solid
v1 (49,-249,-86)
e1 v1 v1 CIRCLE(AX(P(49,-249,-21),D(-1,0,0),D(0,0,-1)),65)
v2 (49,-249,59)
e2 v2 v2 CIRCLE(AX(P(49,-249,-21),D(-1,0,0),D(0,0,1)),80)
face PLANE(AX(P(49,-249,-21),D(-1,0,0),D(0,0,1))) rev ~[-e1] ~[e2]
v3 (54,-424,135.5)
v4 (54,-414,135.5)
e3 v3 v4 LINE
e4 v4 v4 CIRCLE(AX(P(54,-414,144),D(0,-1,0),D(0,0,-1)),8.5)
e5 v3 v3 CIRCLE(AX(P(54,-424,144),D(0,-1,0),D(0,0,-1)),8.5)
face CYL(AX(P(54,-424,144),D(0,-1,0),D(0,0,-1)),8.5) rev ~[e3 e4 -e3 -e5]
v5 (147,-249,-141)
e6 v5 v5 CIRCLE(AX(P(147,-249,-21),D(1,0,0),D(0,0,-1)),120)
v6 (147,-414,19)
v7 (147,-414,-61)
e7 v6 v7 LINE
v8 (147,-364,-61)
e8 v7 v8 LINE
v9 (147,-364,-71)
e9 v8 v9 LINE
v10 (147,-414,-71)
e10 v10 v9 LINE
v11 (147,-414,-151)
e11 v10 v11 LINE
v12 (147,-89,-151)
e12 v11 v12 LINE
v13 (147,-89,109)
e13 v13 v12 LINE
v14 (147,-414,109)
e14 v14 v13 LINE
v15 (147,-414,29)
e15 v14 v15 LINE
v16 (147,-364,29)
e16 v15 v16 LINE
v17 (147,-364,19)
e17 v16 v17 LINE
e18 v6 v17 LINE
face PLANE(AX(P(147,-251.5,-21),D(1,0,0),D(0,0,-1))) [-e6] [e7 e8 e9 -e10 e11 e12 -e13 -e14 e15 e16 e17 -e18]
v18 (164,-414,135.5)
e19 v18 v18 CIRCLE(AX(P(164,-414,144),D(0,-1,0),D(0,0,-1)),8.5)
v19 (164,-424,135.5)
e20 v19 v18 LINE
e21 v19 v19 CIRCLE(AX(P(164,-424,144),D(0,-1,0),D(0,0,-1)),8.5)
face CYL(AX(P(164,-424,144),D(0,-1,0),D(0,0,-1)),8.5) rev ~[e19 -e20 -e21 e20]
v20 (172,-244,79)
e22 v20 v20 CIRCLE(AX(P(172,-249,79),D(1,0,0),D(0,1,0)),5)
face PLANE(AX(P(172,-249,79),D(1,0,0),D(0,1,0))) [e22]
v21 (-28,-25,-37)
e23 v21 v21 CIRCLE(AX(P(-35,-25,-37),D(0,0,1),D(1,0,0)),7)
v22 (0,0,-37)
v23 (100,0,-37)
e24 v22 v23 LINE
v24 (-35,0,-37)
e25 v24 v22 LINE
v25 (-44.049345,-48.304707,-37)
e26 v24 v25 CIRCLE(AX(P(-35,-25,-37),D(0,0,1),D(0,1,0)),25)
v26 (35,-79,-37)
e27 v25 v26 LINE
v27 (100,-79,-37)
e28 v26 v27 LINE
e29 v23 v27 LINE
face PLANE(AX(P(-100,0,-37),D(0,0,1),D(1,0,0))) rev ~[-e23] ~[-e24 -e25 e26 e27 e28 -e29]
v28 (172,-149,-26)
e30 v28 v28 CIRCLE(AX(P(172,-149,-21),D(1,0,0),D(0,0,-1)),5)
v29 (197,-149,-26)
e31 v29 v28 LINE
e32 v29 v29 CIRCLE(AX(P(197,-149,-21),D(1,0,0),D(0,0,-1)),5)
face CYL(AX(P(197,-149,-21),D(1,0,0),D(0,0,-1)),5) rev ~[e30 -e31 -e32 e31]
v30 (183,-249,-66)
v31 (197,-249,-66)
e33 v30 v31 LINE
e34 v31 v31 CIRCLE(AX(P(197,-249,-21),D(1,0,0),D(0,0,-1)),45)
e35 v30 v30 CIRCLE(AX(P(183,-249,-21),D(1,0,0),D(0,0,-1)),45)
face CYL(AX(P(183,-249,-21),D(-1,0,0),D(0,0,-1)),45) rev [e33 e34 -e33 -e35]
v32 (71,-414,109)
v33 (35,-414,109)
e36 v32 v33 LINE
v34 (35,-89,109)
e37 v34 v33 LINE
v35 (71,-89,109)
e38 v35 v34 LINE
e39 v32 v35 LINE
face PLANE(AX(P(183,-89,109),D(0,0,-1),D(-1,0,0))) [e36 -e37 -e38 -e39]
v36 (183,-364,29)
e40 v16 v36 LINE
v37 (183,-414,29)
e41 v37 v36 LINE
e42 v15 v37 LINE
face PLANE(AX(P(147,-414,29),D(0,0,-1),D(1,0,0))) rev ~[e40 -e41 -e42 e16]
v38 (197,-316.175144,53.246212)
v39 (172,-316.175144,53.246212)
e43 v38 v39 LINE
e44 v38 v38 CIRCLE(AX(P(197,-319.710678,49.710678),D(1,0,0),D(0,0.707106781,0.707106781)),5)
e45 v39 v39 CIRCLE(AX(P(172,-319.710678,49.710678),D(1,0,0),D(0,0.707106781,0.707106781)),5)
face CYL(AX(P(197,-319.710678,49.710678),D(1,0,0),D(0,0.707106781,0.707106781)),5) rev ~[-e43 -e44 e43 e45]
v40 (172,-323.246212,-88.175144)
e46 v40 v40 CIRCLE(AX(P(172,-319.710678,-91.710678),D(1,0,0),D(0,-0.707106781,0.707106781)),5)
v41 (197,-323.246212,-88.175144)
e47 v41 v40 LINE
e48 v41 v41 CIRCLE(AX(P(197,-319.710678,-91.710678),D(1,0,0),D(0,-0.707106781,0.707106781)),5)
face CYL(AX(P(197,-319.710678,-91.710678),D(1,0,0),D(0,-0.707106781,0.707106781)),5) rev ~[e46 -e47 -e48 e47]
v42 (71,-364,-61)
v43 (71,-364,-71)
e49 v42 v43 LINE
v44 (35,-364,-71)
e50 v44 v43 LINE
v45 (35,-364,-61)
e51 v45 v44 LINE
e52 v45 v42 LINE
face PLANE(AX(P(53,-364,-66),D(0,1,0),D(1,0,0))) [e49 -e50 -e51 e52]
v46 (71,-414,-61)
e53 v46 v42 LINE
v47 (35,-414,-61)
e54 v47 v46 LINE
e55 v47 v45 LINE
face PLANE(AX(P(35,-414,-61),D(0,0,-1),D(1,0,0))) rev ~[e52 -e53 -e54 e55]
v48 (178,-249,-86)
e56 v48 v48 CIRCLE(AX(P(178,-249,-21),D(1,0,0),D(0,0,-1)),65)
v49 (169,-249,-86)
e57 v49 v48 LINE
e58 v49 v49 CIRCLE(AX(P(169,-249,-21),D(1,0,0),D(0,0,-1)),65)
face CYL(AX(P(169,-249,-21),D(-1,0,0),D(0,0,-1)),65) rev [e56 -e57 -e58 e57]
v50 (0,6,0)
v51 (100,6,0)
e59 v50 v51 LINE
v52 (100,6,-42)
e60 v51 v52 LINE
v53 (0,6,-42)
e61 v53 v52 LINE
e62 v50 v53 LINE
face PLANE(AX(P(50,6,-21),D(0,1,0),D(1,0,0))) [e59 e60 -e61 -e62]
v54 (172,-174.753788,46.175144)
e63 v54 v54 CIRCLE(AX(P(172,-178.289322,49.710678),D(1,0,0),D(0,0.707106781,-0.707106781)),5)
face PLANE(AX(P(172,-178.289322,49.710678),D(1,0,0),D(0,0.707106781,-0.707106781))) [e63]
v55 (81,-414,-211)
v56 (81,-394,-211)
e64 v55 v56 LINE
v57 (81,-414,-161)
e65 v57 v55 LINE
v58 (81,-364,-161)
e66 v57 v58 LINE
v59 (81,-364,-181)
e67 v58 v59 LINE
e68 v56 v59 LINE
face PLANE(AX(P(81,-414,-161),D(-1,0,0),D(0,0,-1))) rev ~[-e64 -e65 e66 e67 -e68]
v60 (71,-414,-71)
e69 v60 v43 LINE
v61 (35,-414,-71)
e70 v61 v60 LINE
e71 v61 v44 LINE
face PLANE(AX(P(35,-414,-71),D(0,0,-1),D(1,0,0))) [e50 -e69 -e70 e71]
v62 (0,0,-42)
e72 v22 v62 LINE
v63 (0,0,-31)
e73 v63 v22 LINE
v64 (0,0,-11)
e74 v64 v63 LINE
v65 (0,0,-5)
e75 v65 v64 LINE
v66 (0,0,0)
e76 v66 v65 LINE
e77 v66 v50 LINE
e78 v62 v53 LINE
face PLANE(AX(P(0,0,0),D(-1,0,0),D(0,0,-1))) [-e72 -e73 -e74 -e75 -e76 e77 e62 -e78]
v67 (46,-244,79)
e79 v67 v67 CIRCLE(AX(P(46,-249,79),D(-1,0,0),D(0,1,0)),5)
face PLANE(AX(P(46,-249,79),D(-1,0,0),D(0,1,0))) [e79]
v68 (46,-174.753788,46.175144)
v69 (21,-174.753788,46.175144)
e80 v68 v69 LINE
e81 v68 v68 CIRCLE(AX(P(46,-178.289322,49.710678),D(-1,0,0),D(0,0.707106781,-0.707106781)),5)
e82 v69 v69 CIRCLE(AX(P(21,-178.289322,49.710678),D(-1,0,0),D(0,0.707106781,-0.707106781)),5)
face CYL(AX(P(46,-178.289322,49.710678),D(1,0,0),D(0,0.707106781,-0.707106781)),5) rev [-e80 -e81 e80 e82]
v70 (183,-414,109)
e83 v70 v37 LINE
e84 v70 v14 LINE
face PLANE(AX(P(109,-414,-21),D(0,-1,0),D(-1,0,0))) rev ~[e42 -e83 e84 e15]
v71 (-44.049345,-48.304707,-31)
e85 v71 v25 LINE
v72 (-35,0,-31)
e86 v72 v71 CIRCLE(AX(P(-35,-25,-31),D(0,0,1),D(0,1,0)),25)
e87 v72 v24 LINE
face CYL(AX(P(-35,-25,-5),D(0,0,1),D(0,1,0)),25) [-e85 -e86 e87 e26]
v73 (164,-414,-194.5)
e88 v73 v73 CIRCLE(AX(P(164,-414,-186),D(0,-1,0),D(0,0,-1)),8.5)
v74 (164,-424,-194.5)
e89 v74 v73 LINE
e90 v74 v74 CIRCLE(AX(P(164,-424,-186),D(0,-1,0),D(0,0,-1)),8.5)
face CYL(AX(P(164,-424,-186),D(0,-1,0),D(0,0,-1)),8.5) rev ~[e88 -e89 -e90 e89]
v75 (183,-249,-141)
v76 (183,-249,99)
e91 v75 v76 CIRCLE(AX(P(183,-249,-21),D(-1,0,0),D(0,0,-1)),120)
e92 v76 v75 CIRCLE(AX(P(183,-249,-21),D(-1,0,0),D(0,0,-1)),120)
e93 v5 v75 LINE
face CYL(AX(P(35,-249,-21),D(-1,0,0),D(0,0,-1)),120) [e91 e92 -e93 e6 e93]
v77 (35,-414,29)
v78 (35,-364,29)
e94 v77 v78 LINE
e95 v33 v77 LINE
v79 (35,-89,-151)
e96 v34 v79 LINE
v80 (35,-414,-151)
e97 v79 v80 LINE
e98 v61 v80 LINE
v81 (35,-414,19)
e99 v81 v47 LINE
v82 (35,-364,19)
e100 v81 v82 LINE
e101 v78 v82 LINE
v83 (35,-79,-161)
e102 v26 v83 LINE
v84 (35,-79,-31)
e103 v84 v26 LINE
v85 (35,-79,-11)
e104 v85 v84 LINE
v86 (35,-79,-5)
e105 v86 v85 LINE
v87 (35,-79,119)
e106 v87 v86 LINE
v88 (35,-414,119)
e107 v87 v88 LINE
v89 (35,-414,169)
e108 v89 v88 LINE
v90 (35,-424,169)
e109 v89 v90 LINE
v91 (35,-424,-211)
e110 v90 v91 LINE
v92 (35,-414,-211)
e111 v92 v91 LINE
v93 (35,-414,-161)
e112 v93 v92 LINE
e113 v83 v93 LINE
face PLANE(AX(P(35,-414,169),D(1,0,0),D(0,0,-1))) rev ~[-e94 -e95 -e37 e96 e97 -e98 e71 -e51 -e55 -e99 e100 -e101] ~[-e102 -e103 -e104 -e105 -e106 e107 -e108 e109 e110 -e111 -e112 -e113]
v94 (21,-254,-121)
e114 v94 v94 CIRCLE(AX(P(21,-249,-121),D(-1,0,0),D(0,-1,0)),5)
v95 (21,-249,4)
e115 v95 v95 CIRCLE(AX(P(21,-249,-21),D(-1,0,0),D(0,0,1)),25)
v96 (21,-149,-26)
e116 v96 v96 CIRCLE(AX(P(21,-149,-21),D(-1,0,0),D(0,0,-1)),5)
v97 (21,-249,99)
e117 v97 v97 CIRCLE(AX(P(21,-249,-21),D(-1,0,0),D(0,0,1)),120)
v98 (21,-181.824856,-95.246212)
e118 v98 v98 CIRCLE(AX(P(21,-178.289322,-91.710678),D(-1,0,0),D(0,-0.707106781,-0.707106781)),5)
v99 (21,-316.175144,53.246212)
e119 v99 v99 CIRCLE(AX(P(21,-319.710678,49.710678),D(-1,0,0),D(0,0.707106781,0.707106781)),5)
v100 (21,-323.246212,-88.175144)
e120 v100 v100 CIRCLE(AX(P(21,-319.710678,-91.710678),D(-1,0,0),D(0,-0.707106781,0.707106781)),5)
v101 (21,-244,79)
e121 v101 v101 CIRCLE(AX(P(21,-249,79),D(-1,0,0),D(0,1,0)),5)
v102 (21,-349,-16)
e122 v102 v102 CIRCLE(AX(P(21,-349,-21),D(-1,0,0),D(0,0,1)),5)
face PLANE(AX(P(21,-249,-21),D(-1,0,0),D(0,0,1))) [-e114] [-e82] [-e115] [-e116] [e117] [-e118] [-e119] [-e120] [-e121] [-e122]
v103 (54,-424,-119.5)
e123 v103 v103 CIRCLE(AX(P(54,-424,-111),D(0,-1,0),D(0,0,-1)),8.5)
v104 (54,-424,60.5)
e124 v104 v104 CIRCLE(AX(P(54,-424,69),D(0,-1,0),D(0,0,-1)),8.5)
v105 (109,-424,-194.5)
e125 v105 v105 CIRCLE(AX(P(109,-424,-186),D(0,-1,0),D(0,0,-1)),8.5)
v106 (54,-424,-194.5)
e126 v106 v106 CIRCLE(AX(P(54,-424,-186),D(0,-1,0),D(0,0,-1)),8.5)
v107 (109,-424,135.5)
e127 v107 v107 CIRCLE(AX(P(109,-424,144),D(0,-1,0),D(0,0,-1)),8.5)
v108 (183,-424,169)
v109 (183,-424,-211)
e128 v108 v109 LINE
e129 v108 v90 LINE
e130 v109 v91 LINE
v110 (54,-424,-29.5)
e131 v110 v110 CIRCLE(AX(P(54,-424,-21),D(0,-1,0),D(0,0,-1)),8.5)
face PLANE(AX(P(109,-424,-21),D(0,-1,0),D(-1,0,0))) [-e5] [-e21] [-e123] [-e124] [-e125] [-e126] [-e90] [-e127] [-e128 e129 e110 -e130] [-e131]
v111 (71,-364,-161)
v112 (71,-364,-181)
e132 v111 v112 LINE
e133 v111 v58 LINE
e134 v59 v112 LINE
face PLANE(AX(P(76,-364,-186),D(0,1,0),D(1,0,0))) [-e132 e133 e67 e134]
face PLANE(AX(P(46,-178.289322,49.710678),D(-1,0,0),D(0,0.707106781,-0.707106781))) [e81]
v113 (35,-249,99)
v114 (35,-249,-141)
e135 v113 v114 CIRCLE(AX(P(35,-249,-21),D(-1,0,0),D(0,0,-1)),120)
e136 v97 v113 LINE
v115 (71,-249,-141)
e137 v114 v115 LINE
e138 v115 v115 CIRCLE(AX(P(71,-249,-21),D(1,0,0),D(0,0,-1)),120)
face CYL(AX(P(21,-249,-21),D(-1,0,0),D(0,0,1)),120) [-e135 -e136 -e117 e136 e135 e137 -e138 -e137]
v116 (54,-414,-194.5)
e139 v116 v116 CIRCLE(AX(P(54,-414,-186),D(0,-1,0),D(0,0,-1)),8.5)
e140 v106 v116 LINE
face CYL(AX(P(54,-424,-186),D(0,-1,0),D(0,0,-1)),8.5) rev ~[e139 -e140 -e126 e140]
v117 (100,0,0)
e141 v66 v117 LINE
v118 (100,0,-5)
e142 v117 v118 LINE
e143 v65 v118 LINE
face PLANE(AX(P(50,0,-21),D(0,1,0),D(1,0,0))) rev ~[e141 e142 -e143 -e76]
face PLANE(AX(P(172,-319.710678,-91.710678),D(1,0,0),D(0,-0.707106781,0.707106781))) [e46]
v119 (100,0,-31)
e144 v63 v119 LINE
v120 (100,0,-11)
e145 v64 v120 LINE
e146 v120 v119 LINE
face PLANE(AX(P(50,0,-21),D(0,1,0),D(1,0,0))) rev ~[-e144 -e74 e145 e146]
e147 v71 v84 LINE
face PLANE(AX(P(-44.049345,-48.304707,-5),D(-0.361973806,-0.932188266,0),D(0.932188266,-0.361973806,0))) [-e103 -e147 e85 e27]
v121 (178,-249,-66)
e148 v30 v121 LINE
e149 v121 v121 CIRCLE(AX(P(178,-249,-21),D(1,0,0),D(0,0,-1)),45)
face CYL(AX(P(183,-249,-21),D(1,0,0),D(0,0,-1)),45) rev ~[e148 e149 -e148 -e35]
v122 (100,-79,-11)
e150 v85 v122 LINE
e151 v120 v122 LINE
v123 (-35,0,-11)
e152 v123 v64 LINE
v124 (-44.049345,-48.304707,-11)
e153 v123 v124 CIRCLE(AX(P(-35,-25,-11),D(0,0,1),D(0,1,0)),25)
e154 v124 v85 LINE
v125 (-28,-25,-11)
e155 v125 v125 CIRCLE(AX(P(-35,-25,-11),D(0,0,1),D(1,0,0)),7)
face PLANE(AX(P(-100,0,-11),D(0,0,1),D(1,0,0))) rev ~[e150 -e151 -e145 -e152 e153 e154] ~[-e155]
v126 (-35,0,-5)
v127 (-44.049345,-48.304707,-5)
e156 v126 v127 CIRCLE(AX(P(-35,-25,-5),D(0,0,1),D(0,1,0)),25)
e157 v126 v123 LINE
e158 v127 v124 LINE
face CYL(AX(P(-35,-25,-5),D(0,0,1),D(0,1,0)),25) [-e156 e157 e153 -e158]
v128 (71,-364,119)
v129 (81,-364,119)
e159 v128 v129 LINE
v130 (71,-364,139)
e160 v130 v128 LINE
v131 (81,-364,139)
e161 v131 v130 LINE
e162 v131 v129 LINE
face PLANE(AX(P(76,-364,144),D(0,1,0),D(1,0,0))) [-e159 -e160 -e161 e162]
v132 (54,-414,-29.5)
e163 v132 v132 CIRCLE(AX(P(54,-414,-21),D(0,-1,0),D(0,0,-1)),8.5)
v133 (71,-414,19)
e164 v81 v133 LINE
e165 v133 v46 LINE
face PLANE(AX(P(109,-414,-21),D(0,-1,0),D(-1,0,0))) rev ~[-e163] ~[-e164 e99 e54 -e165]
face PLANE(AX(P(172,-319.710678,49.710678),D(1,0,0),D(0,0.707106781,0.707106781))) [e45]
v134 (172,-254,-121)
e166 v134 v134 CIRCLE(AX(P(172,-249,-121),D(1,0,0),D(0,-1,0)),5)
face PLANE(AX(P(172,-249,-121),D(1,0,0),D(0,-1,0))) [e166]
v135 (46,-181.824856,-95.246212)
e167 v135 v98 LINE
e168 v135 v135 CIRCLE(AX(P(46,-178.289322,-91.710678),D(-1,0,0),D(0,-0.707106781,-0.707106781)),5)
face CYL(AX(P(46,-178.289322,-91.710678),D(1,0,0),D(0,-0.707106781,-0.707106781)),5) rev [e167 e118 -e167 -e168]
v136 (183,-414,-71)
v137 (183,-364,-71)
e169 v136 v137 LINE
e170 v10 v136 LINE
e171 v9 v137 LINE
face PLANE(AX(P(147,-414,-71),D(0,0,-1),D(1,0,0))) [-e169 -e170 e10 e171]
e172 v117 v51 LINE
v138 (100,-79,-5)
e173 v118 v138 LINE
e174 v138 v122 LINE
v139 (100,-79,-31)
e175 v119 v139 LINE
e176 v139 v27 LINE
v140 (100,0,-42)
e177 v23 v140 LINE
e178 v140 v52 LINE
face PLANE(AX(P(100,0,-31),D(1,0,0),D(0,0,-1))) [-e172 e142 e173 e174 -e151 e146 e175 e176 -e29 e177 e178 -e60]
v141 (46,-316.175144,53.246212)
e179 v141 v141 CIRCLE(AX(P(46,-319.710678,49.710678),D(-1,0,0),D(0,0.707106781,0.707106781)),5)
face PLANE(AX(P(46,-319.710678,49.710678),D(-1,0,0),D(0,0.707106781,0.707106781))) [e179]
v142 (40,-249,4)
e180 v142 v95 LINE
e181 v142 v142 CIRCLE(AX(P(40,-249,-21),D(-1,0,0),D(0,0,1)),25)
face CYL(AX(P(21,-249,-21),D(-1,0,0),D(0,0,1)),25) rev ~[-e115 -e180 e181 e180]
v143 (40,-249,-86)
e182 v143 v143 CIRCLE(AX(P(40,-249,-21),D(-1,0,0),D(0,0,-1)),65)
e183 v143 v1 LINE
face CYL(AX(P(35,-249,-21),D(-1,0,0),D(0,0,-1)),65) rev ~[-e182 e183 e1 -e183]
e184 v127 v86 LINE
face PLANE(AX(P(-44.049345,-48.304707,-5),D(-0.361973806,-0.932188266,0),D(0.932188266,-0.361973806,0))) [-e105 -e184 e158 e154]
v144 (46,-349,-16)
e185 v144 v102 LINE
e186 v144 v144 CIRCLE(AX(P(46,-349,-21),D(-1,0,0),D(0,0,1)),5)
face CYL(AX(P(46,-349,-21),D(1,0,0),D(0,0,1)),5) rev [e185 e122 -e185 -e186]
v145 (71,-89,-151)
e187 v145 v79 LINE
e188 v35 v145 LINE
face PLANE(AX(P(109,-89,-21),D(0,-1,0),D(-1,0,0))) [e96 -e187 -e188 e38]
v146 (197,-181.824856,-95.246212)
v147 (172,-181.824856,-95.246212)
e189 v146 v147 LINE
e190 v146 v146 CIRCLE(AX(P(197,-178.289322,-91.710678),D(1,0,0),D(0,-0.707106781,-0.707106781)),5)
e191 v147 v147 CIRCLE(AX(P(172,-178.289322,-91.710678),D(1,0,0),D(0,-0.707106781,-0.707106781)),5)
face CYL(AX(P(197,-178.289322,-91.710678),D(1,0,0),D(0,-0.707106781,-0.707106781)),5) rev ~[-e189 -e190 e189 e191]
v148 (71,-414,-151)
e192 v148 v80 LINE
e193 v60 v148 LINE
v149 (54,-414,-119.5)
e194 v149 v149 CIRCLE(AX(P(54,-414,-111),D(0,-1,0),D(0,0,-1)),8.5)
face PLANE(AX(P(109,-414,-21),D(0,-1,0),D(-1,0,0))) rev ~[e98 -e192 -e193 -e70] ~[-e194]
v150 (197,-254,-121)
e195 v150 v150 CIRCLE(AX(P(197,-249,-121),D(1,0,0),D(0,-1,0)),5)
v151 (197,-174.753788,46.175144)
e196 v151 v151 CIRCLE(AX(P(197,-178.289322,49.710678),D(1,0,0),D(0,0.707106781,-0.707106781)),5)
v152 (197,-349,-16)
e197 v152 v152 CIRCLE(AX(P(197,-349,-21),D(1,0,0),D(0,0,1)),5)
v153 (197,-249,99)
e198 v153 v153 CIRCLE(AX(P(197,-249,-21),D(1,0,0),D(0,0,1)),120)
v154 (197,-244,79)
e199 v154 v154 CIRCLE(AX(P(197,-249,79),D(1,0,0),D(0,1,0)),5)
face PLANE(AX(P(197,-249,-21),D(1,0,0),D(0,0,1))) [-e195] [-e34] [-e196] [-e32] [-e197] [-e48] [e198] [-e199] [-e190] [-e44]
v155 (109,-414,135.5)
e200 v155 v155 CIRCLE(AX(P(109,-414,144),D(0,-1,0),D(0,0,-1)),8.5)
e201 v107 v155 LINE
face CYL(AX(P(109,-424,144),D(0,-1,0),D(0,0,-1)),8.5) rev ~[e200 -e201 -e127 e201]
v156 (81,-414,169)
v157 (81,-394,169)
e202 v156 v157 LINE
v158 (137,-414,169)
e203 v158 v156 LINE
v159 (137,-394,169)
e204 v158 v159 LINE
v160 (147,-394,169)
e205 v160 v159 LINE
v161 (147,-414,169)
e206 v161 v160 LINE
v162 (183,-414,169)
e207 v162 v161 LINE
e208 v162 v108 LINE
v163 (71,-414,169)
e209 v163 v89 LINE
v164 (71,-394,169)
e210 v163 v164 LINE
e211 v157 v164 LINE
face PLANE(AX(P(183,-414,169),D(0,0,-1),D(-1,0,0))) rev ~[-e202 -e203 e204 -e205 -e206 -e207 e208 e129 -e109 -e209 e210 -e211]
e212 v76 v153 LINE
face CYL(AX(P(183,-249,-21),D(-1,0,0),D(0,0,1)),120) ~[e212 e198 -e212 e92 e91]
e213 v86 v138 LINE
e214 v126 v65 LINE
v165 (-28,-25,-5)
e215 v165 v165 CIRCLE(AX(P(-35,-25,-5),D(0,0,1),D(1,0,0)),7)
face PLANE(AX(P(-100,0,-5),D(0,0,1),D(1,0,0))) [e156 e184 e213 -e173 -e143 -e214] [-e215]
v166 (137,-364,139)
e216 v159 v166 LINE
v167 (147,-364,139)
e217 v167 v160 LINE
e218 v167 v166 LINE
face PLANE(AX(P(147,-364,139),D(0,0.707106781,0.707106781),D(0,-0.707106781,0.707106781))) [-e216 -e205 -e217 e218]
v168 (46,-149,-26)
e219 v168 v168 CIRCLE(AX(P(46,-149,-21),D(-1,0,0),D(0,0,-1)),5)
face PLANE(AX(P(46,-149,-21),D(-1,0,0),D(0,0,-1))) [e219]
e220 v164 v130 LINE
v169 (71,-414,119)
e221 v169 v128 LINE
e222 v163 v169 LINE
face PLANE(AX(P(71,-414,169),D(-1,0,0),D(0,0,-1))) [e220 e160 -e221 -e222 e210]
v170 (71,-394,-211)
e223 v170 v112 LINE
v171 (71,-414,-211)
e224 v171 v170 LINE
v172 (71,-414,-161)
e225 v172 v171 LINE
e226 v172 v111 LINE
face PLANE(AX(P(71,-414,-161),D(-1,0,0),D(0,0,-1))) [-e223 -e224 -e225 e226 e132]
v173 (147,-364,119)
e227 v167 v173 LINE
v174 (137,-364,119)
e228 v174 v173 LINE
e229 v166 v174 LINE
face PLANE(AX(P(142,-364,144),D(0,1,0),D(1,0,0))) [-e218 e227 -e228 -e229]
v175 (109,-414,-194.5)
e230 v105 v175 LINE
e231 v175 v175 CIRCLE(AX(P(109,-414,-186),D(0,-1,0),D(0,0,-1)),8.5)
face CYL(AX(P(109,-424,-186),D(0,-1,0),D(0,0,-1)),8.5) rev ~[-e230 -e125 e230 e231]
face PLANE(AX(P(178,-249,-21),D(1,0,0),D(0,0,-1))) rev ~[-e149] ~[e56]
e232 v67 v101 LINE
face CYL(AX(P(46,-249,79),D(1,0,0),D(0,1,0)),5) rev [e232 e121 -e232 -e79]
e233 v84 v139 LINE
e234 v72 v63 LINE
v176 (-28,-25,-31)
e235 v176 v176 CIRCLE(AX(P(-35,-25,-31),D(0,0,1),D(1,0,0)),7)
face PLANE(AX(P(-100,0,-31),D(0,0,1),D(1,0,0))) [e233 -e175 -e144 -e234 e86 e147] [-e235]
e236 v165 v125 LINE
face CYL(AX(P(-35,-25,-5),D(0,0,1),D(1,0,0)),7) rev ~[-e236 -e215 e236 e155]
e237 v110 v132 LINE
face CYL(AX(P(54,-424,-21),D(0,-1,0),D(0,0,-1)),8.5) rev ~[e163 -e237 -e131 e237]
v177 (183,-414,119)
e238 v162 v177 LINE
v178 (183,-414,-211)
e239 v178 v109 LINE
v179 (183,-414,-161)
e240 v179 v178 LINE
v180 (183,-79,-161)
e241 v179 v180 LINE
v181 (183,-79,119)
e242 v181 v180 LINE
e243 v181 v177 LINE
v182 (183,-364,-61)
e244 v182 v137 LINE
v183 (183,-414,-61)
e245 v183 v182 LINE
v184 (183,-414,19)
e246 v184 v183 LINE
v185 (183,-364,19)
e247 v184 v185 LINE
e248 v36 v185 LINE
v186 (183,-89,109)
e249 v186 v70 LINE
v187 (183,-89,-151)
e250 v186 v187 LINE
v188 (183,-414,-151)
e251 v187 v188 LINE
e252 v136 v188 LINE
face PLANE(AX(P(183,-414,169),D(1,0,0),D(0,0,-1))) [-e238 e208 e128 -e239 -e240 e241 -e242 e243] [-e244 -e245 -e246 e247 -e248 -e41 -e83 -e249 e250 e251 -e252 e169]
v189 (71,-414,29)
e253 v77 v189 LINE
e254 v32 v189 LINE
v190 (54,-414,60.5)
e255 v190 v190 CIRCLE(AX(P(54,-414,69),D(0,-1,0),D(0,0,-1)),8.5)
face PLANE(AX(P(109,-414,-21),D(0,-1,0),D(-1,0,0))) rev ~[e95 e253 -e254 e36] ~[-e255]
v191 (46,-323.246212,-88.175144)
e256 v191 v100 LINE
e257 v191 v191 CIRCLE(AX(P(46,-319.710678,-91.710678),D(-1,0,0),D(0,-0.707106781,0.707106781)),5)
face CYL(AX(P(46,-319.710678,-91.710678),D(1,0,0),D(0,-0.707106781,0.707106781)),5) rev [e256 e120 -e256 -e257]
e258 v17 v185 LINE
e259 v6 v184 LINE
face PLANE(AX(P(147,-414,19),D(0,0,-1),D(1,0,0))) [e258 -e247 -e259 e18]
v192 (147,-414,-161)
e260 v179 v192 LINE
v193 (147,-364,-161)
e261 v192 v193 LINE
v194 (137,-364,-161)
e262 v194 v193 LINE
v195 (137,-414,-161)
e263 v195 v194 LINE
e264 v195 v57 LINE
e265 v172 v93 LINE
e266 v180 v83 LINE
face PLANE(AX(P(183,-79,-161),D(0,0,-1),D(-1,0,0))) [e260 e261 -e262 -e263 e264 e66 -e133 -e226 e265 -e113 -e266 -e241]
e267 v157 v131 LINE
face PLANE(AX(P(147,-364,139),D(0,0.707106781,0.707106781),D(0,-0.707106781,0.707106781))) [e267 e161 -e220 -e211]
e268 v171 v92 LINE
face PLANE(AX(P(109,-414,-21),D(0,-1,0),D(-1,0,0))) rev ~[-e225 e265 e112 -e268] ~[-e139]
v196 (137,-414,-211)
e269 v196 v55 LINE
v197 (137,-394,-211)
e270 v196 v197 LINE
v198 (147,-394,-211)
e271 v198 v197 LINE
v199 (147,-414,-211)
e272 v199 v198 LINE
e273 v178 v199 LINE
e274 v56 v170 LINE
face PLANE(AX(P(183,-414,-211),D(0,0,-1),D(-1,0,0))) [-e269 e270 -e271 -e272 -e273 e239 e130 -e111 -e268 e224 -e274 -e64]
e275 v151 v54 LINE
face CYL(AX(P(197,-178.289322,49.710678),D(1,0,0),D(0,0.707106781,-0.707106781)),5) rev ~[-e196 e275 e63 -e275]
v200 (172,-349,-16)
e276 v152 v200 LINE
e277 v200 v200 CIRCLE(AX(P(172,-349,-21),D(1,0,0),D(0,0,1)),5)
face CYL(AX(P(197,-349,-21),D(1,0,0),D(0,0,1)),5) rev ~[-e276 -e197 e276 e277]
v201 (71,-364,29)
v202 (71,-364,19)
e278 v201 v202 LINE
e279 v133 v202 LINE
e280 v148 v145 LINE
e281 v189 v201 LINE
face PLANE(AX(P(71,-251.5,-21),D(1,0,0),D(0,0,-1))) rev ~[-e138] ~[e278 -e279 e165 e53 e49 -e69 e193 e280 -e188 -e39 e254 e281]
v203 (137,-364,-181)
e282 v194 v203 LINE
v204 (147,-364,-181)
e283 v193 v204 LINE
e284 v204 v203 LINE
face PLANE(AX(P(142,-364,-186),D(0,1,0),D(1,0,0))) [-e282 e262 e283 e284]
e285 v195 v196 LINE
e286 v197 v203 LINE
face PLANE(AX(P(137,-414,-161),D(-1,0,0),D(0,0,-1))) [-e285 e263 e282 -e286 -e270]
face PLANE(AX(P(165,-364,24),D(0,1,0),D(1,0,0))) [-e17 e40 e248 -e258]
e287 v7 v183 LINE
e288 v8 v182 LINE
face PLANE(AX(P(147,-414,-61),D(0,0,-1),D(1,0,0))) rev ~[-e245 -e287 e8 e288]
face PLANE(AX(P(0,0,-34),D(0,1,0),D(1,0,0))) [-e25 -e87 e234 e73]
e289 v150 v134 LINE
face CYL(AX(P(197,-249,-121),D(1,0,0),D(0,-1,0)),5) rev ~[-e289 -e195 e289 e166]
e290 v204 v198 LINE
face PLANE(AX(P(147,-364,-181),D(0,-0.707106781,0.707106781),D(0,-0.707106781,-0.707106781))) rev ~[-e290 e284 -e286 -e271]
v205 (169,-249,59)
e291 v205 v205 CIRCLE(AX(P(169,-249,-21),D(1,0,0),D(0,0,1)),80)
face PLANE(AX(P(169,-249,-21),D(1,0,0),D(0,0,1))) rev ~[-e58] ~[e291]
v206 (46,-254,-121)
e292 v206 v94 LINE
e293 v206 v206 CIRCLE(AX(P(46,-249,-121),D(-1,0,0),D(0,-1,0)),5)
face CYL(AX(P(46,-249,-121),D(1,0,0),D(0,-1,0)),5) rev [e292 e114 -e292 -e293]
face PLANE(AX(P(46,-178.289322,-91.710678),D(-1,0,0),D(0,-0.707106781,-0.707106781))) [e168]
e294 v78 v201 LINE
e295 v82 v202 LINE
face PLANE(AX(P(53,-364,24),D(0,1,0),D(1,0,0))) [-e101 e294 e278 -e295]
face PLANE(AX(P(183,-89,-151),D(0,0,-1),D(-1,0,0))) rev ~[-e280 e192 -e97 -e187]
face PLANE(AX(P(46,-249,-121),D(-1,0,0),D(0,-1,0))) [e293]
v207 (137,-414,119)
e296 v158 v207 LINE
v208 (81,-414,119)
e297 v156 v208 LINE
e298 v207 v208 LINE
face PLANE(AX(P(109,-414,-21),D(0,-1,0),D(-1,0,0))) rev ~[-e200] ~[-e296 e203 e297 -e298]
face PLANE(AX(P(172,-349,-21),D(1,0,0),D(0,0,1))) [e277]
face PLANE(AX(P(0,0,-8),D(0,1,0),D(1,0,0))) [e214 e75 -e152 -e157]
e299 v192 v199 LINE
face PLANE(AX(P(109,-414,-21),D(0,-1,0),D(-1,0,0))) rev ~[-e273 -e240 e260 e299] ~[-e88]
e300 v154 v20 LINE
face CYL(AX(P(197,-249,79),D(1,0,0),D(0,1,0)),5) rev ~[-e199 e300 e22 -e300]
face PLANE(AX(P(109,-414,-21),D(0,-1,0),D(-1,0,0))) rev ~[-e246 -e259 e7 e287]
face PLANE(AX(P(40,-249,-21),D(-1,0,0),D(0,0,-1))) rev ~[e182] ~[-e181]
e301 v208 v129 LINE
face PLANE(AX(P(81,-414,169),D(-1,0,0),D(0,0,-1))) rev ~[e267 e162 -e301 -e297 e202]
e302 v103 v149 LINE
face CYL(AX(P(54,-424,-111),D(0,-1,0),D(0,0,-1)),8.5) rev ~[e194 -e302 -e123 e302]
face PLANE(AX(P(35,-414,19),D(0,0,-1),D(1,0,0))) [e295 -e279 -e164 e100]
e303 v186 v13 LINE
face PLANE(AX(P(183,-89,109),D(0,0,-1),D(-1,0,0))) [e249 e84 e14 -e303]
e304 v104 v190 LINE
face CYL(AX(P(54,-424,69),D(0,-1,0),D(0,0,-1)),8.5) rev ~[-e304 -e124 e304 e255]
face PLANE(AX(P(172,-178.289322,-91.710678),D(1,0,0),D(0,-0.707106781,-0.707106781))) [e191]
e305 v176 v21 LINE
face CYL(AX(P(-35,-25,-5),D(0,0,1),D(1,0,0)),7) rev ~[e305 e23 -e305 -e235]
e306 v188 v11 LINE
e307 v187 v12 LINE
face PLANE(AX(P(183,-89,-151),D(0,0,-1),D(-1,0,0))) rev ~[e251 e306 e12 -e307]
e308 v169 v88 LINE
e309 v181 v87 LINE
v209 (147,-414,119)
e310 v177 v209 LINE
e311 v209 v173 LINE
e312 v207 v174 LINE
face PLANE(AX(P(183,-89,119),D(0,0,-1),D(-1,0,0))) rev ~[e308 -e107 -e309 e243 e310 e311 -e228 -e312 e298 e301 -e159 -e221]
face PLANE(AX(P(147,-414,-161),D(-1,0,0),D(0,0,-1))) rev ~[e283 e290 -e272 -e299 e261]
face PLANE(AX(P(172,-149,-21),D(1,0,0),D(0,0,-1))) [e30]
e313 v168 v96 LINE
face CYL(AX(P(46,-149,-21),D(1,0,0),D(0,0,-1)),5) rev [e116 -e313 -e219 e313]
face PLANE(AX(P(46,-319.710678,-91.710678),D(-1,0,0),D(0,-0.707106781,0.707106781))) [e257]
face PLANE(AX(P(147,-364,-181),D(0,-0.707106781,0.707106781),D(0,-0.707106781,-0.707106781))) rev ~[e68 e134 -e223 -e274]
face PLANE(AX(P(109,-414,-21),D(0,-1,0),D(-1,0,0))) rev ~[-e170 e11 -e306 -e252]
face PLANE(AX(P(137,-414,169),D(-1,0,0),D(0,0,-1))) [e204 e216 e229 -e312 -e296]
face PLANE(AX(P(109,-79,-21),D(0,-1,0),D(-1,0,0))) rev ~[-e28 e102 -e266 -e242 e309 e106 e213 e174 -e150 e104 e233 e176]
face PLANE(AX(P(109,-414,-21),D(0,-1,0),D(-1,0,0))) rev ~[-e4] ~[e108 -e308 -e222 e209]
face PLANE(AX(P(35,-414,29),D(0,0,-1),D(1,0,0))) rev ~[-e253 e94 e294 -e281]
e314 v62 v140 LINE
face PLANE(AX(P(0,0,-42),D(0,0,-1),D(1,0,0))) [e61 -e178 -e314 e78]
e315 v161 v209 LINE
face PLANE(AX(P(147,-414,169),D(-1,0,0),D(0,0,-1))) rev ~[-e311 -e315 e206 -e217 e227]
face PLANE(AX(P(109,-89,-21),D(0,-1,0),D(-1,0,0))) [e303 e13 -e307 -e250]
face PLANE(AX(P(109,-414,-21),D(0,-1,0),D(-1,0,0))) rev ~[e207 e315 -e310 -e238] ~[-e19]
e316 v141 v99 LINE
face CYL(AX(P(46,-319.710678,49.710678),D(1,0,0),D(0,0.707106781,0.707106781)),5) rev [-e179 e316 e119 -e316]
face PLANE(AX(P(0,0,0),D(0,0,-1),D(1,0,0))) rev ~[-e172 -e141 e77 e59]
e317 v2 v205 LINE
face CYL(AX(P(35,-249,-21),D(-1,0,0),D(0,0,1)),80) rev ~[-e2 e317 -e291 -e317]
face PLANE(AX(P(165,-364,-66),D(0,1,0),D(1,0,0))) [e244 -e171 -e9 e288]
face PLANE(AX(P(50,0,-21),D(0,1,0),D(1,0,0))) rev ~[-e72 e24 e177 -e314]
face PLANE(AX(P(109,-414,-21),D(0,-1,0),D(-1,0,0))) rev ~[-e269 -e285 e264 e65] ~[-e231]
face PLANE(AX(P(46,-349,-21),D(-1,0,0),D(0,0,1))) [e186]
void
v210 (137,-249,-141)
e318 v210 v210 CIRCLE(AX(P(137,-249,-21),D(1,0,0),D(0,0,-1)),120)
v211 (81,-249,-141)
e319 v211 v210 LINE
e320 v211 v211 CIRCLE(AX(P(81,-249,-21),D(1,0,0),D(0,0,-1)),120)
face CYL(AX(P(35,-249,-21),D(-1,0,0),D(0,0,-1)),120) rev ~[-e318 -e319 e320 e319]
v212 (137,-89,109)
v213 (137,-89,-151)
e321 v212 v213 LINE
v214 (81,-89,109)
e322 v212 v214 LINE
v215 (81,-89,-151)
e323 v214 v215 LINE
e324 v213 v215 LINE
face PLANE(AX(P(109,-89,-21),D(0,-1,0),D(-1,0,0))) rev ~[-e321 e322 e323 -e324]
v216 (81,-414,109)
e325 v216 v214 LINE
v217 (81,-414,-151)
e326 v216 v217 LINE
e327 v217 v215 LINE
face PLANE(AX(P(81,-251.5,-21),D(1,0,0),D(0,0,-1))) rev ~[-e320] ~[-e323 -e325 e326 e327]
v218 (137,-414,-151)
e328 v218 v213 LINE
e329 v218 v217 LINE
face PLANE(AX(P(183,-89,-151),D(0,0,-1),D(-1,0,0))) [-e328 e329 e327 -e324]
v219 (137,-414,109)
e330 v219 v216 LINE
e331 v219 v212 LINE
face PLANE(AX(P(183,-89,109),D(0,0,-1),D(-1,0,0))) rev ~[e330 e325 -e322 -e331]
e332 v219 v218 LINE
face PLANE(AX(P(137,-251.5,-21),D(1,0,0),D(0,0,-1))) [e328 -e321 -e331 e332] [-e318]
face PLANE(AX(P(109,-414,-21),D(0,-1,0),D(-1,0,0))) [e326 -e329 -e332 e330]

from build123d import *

# Parameters (mm, degrees)
SKETCH_1_W               = 100
SKETCH_1_H               = 42
EXTRUDE_1_DEPTH          = 6
SKETCH_2_W               = 200
SKETCH_2_H               = 6
EXTRUDE_2_DEPTH          = 79
SKETCH_3_R               = 7
CUT_EXTRUDE_1_DEPTH      = 133.70267518
SKETCH_4_W               = 148
SKETCH_4_H               = 280
EXTRUDE_3_DEPTH          = 10
SKETCH_6_W               = 148
SKETCH_6_H               = 10
EXTRUDE_4_DEPTH          = 325
SKETCH_7_W               = 148
SKETCH_7_H               = 380
EXTRUDE_5_DEPTH          = 10
SKETCH_8_W               = 10
SKETCH_8_H               = 50
EXTRUDE_6_DEPTH          = 50
CUT_EXTRUDE_2_DEPTH      = 517.861683625
SKETCH_10_W              = 260
SKETCH_10_H              = 325
SKETCH_10_R              = 120
EXTRUDE_7_DEPTH          = 10
PATTERN_LINEAR_1_COUNT   = 2
PATTERN_LINEAR_1_PITCH   = 66
SKETCH_12_R              = 120
SKETCH_12_R_2            = 80
EXTRUDE_9_DEPTH          = 148
SKETCH_13_W              = 36
SKETCH_13_H              = 10
EXTRUDE_10_DEPTH         = 50
EXTRUDE_START            = -14
SKETCH_14_R              = 80
SKETCH_14_R_2            = 65
EXTRUDE_11_DEPTH         = 14
SKETCH_15_R              = 65
SKETCH_15_R_2            = 45
EXTRUDE_12_DEPTH         = 5
SKETCH_17_R              = 120
SKETCH_17_R_2            = 45
EXTRUDE_13_DEPTH         = 14
SKETCH_18_R              = 80
SKETCH_18_R_2            = 65
EXTRUDE_14_DEPTH         = 14
SKETCH_19_R              = 65
SKETCH_19_R_2            = 25
EXTRUDE_15_DEPTH         = 5
EXTRUDE_START_2          = 14
SKETCH_20_R              = 120
SKETCH_20_R_2            = 25
EXTRUDE_16_DEPTH         = 14
SKETCH_27_R              = 8.5
CUT_EXTRUDE_4_DEPTH      = 10
SKETCH_28_R              = 5
CUT_EXTRUDE_5_DEPTH      = 25
CUT_EXTRUDE_START        = -25
SKETCH_29_R              = 5
CUT_EXTRUDE_6_DEPTH      = 25
PATTERN_CIRCULAR_2_COUNT = 8


with BuildPart() as part:
    # 草图1 → 凸台-拉伸1 (new body)
    with BuildSketch(Plane(origin=(0, 0, 0), x_dir=(1, 0, 0), z_dir=(0, 1, 0))):
        with Locations((50, 21)):
            Rectangle(SKETCH_1_W, SKETCH_1_H)
    extrude(amount=EXTRUDE_1_DEPTH)

    # 草图2 → 凸台-拉伸2 (add)
    with BuildSketch(Plane(origin=(0, 0, 0), x_dir=(1, 0, 0), z_dir=(0, 1, 0))):
        with Locations((0, 34)):
            Rectangle(SKETCH_2_W, SKETCH_2_H)
        with Locations((0, 8)):
            Rectangle(SKETCH_2_W, SKETCH_2_H)
    extrude(amount=-EXTRUDE_2_DEPTH)

    # 草图3 → 切除-拉伸1 (cut, through all)
    with BuildSketch(Plane.XY.offset(-5)):
        with Locations((-35, -25)):
            Circle(SKETCH_3_R)
        with BuildLine():
            Line((-44.049345139, -48.304706661), (35, -79))
            Line((35, -79), (-100, -79))
            Line((-100, -79), (-100, 0))
            Line((-100, 0), (-35, 0))
            ThreePointArc((-35, 0), (-59.572521915, -20.396613558), (-44.049345139, -48.304706661))
        make_face()
    extrude(amount=-CUT_EXTRUDE_1_DEPTH, mode=Mode.SUBTRACT)

    # 草图4 → 凸台-拉伸3 (add)
    with BuildSketch(Plane(origin=(0, -79, 0), x_dir=(-1, 0, 0), z_dir=(0, -1, 0))):
        with Locations((-109, 21)):
            Rectangle(SKETCH_4_W, SKETCH_4_H)
    extrude(amount=EXTRUDE_3_DEPTH)

    # 草图6 → 凸台-拉伸4 (add)
    with BuildSketch(Plane(origin=(0, -89, 0), x_dir=(-1, 0, 0), z_dir=(0, -1, 0))):
        with Locations((-109, -114)):
            Rectangle(SKETCH_6_W, SKETCH_6_H)
        with Locations((-109, 156)):
            Rectangle(SKETCH_6_W, SKETCH_6_H)
    extrude(amount=EXTRUDE_4_DEPTH)

    # 草图7 → 凸台-拉伸5 (add)
    with BuildSketch(Plane(origin=(0, -414, 0), x_dir=(-1, 0, 0), z_dir=(0, -1, 0))):
        with Locations((-109, 21)):
            Rectangle(SKETCH_7_W, SKETCH_7_H)
    extrude(amount=EXTRUDE_5_DEPTH)

    # 草图8 → 凸台-拉伸6 (add)
    with BuildSketch(Plane(origin=(0, -414, 0), x_dir=(1, 0, 0), z_dir=(0, 1, 0))):
        with Locations((76, 186)):
            Rectangle(SKETCH_8_W, SKETCH_8_H)
        with Locations((142, 186)):
            Rectangle(SKETCH_8_W, SKETCH_8_H)
        with Locations((76, -144)):
            Rectangle(SKETCH_8_W, SKETCH_8_H)
        with Locations((142, -144)):
            Rectangle(SKETCH_8_W, SKETCH_8_H)
    extrude(amount=EXTRUDE_6_DEPTH)

    # 草图9 → 切除-拉伸2 (cut, through all)
    with BuildSketch(Plane(origin=(147, 0, 0), x_dir=(0, 0, -1), z_dir=(1, 0, 0))):
        Polygon((211, -364), (181, -364), (211, -394), align=None)
        Polygon((-169, -364), (-139, -364), (-169, -394), align=None)
    extrude(amount=-CUT_EXTRUDE_2_DEPTH, mode=Mode.SUBTRACT)

    # 草图10 → 凸台-拉伸7 (add)
    with BuildSketch(Plane(origin=(147, 0, 0), x_dir=(0, 0, -1), z_dir=(1, 0, 0))):
        with Locations((21, -251.5)):
            Rectangle(SKETCH_10_W, SKETCH_10_H)
        with Locations((21, -249)):
            Circle(SKETCH_10_R, mode=Mode.SUBTRACT)
    extrude_7 = extrude(amount=-EXTRUDE_7_DEPTH)

    # 阵列(线性)1: 凸台-拉伸7 ×2
    with Locations(*[(-i * PATTERN_LINEAR_1_PITCH, 0, 0) for i in range(1, PATTERN_LINEAR_1_COUNT)]):
        add(extrude_7)



with BuildPart() as body_2:
    # 草图12 → 凸台-拉伸9 (new body)
    with BuildSketch(Plane.ZY.offset(-35)):
        with Locations(Location((-21, -249, 0), (0, 0, 180))):
            Circle(SKETCH_12_R)
        with Locations((-21, -249)):
            Circle(SKETCH_12_R_2, mode=Mode.SUBTRACT)
    extrude(amount=-EXTRUDE_9_DEPTH)


with BuildPart() as part_1:
    add(part.part)

    add(body_2.part)  # 凸台-拉伸10 merges body 2
    # 草图13 → 凸台-拉伸10 (add)
    with BuildSketch(Plane(origin=(0, -414, 0), x_dir=(1, 0, 0), z_dir=(0, 1, 0))):
        with Locations((165, -24)):
            Rectangle(SKETCH_13_W, SKETCH_13_H)
        with Locations((165, 66)):
            Rectangle(SKETCH_13_W, SKETCH_13_H)
        with Locations((53, 66)):
            Rectangle(SKETCH_13_W, SKETCH_13_H)
        with Locations((53, -24)):
            Rectangle(SKETCH_13_W, SKETCH_13_H)
    extrude(amount=EXTRUDE_10_DEPTH)

    # 草图14 → 凸台-拉伸11 (add)
    with BuildSketch(Plane(origin=(183, 0, 0), x_dir=(0, 0, -1), z_dir=(1, 0, 0)).offset(EXTRUDE_START)):
        with Locations(Location((21, -249, 0), (0, 0, 180))):
            Circle(SKETCH_14_R)
        with Locations((21, -249)):
            Circle(SKETCH_14_R_2, mode=Mode.SUBTRACT)
    extrude(amount=EXTRUDE_11_DEPTH)



with BuildPart() as body_2_2:
    # 草图15 → 凸台-拉伸12 (new body)
    with BuildSketch(Plane(origin=(183, 0, 0), x_dir=(0, 0, -1), z_dir=(1, 0, 0))):
        with Locations((21, -249)):
            Circle(SKETCH_15_R)
        with Locations((21, -249)):
            Circle(SKETCH_15_R_2, mode=Mode.SUBTRACT)
    extrude(amount=-EXTRUDE_12_DEPTH)


with BuildPart() as part_2:
    add(part_1.part)

    add(body_2_2.part)  # 凸台-拉伸13 merges body 2 2
    # 草图17 → 凸台-拉伸13 (add)
    with BuildSketch(Plane(origin=(183, 0, 0), x_dir=(0, 0, -1), z_dir=(1, 0, 0))):
        with Locations(Location((21, -249, 0), (0, 0, 180))):
            Circle(SKETCH_17_R)
        with Locations((21, -249)):
            Circle(SKETCH_17_R_2, mode=Mode.SUBTRACT)
    extrude(amount=EXTRUDE_13_DEPTH)

    # 草图18 → 凸台-拉伸14 (add)
    with BuildSketch(Plane.ZY.offset(-35)):
        with Locations((-21, -249)):
            Circle(SKETCH_18_R)
        with Locations(Location((-21, -249, 0), (0, 0, 180))):
            Circle(SKETCH_18_R_2, mode=Mode.SUBTRACT)
    extrude(amount=-EXTRUDE_14_DEPTH)



with BuildPart() as body_2_3:
    # 草图19 → 凸台-拉伸15 (new body)
    with BuildSketch(Plane.ZY.offset(-35)):
        with Locations(Location((-21, -249, 0), (0, 0, 180))):
            Circle(SKETCH_19_R)
        with Locations((-21, -249)):
            Circle(SKETCH_19_R_2, mode=Mode.SUBTRACT)
    extrude(amount=-EXTRUDE_15_DEPTH)


with BuildPart() as part_3:
    add(part_2.part)

    add(body_2_3.part)  # 凸台-拉伸16 merges body 2 3
    # 草图20 → 凸台-拉伸16 (add)
    with BuildSketch(Plane.ZY.offset(-35).offset(EXTRUDE_START_2)):
        with Locations((-21, -249)):
            Circle(SKETCH_20_R)
        with Locations((-21, -249)):
            Circle(SKETCH_20_R_2, mode=Mode.SUBTRACT)
    extrude(amount=-EXTRUDE_16_DEPTH)

    # 草图27 → 切除-拉伸4 (cut)
    with BuildSketch(Plane(origin=(0, -424, 0), x_dir=(-1, 0, 0), z_dir=(0, -1, 0))):
        with Locations(Location((-109, -144, 0), (0, 0, 90))):
            Circle(SKETCH_27_R)
        with Locations(Location((-164, -144, 0), (0, 0, 90))):
            Circle(SKETCH_27_R)
        with Locations(Location((-54, -144, 0), (0, 0, 90))):
            Circle(SKETCH_27_R)
        with Locations(Location((-54, 186, 0), (0, 0, 90))):
            Circle(SKETCH_27_R)
        with Locations(Location((-109, 186, 0), (0, 0, 90))):
            Circle(SKETCH_27_R)
        with Locations(Location((-164, 186, 0), (0, 0, 90))):
            Circle(SKETCH_27_R)
        with Locations(Location((-54, 111, 0), (0, 0, 90))):
            Circle(SKETCH_27_R)
        with Locations(Location((-54, -69, 0), (0, 0, 90))):
            Circle(SKETCH_27_R)
        with Locations(Location((-54, 21, 0), (0, 0, 90))):
            Circle(SKETCH_27_R)
    extrude(amount=-CUT_EXTRUDE_4_DEPTH, mode=Mode.SUBTRACT)

    # 草图28 → 切除-拉伸5 (cut)
    with BuildSketch(Plane(origin=(197, 0, 0), x_dir=(0, 0, -1), z_dir=(1, 0, 0))):
        with Locations((21, -149)):
            Circle(SKETCH_28_R)
    cut_extrude_5 = extrude(amount=-CUT_EXTRUDE_5_DEPTH, mode=Mode.SUBTRACT)

    # 草图29 → 切除-拉伸6 (cut)
    with BuildSketch(Plane.ZY.offset(-21).offset(CUT_EXTRUDE_START)):
        with Locations(Location((-21, -149, 0), (0, 0, 180))):
            Circle(SKETCH_29_R)
    cut_extrude_6 = extrude(amount=CUT_EXTRUDE_6_DEPTH, mode=Mode.SUBTRACT)

    # 阵列(圆周)2: 切除-拉伸5, 切除-拉伸6 ×8 about axis
    pattern_circular_2_axis = Axis((0, -249, -21), (1, 0, 0))
    add([cut_extrude_5.rotate(pattern_circular_2_axis, i * 360 / PATTERN_CIRCULAR_2_COUNT) for i in range(1, PATTERN_CIRCULAR_2_COUNT)], mode=Mode.SUBTRACT)
    add([cut_extrude_6.rotate(pattern_circular_2_axis, i * 360 / PATTERN_CIRCULAR_2_COUNT) for i in range(1, PATTERN_CIRCULAR_2_COUNT)], mode=Mode.SUBTRACT)


solid = part_3.part
